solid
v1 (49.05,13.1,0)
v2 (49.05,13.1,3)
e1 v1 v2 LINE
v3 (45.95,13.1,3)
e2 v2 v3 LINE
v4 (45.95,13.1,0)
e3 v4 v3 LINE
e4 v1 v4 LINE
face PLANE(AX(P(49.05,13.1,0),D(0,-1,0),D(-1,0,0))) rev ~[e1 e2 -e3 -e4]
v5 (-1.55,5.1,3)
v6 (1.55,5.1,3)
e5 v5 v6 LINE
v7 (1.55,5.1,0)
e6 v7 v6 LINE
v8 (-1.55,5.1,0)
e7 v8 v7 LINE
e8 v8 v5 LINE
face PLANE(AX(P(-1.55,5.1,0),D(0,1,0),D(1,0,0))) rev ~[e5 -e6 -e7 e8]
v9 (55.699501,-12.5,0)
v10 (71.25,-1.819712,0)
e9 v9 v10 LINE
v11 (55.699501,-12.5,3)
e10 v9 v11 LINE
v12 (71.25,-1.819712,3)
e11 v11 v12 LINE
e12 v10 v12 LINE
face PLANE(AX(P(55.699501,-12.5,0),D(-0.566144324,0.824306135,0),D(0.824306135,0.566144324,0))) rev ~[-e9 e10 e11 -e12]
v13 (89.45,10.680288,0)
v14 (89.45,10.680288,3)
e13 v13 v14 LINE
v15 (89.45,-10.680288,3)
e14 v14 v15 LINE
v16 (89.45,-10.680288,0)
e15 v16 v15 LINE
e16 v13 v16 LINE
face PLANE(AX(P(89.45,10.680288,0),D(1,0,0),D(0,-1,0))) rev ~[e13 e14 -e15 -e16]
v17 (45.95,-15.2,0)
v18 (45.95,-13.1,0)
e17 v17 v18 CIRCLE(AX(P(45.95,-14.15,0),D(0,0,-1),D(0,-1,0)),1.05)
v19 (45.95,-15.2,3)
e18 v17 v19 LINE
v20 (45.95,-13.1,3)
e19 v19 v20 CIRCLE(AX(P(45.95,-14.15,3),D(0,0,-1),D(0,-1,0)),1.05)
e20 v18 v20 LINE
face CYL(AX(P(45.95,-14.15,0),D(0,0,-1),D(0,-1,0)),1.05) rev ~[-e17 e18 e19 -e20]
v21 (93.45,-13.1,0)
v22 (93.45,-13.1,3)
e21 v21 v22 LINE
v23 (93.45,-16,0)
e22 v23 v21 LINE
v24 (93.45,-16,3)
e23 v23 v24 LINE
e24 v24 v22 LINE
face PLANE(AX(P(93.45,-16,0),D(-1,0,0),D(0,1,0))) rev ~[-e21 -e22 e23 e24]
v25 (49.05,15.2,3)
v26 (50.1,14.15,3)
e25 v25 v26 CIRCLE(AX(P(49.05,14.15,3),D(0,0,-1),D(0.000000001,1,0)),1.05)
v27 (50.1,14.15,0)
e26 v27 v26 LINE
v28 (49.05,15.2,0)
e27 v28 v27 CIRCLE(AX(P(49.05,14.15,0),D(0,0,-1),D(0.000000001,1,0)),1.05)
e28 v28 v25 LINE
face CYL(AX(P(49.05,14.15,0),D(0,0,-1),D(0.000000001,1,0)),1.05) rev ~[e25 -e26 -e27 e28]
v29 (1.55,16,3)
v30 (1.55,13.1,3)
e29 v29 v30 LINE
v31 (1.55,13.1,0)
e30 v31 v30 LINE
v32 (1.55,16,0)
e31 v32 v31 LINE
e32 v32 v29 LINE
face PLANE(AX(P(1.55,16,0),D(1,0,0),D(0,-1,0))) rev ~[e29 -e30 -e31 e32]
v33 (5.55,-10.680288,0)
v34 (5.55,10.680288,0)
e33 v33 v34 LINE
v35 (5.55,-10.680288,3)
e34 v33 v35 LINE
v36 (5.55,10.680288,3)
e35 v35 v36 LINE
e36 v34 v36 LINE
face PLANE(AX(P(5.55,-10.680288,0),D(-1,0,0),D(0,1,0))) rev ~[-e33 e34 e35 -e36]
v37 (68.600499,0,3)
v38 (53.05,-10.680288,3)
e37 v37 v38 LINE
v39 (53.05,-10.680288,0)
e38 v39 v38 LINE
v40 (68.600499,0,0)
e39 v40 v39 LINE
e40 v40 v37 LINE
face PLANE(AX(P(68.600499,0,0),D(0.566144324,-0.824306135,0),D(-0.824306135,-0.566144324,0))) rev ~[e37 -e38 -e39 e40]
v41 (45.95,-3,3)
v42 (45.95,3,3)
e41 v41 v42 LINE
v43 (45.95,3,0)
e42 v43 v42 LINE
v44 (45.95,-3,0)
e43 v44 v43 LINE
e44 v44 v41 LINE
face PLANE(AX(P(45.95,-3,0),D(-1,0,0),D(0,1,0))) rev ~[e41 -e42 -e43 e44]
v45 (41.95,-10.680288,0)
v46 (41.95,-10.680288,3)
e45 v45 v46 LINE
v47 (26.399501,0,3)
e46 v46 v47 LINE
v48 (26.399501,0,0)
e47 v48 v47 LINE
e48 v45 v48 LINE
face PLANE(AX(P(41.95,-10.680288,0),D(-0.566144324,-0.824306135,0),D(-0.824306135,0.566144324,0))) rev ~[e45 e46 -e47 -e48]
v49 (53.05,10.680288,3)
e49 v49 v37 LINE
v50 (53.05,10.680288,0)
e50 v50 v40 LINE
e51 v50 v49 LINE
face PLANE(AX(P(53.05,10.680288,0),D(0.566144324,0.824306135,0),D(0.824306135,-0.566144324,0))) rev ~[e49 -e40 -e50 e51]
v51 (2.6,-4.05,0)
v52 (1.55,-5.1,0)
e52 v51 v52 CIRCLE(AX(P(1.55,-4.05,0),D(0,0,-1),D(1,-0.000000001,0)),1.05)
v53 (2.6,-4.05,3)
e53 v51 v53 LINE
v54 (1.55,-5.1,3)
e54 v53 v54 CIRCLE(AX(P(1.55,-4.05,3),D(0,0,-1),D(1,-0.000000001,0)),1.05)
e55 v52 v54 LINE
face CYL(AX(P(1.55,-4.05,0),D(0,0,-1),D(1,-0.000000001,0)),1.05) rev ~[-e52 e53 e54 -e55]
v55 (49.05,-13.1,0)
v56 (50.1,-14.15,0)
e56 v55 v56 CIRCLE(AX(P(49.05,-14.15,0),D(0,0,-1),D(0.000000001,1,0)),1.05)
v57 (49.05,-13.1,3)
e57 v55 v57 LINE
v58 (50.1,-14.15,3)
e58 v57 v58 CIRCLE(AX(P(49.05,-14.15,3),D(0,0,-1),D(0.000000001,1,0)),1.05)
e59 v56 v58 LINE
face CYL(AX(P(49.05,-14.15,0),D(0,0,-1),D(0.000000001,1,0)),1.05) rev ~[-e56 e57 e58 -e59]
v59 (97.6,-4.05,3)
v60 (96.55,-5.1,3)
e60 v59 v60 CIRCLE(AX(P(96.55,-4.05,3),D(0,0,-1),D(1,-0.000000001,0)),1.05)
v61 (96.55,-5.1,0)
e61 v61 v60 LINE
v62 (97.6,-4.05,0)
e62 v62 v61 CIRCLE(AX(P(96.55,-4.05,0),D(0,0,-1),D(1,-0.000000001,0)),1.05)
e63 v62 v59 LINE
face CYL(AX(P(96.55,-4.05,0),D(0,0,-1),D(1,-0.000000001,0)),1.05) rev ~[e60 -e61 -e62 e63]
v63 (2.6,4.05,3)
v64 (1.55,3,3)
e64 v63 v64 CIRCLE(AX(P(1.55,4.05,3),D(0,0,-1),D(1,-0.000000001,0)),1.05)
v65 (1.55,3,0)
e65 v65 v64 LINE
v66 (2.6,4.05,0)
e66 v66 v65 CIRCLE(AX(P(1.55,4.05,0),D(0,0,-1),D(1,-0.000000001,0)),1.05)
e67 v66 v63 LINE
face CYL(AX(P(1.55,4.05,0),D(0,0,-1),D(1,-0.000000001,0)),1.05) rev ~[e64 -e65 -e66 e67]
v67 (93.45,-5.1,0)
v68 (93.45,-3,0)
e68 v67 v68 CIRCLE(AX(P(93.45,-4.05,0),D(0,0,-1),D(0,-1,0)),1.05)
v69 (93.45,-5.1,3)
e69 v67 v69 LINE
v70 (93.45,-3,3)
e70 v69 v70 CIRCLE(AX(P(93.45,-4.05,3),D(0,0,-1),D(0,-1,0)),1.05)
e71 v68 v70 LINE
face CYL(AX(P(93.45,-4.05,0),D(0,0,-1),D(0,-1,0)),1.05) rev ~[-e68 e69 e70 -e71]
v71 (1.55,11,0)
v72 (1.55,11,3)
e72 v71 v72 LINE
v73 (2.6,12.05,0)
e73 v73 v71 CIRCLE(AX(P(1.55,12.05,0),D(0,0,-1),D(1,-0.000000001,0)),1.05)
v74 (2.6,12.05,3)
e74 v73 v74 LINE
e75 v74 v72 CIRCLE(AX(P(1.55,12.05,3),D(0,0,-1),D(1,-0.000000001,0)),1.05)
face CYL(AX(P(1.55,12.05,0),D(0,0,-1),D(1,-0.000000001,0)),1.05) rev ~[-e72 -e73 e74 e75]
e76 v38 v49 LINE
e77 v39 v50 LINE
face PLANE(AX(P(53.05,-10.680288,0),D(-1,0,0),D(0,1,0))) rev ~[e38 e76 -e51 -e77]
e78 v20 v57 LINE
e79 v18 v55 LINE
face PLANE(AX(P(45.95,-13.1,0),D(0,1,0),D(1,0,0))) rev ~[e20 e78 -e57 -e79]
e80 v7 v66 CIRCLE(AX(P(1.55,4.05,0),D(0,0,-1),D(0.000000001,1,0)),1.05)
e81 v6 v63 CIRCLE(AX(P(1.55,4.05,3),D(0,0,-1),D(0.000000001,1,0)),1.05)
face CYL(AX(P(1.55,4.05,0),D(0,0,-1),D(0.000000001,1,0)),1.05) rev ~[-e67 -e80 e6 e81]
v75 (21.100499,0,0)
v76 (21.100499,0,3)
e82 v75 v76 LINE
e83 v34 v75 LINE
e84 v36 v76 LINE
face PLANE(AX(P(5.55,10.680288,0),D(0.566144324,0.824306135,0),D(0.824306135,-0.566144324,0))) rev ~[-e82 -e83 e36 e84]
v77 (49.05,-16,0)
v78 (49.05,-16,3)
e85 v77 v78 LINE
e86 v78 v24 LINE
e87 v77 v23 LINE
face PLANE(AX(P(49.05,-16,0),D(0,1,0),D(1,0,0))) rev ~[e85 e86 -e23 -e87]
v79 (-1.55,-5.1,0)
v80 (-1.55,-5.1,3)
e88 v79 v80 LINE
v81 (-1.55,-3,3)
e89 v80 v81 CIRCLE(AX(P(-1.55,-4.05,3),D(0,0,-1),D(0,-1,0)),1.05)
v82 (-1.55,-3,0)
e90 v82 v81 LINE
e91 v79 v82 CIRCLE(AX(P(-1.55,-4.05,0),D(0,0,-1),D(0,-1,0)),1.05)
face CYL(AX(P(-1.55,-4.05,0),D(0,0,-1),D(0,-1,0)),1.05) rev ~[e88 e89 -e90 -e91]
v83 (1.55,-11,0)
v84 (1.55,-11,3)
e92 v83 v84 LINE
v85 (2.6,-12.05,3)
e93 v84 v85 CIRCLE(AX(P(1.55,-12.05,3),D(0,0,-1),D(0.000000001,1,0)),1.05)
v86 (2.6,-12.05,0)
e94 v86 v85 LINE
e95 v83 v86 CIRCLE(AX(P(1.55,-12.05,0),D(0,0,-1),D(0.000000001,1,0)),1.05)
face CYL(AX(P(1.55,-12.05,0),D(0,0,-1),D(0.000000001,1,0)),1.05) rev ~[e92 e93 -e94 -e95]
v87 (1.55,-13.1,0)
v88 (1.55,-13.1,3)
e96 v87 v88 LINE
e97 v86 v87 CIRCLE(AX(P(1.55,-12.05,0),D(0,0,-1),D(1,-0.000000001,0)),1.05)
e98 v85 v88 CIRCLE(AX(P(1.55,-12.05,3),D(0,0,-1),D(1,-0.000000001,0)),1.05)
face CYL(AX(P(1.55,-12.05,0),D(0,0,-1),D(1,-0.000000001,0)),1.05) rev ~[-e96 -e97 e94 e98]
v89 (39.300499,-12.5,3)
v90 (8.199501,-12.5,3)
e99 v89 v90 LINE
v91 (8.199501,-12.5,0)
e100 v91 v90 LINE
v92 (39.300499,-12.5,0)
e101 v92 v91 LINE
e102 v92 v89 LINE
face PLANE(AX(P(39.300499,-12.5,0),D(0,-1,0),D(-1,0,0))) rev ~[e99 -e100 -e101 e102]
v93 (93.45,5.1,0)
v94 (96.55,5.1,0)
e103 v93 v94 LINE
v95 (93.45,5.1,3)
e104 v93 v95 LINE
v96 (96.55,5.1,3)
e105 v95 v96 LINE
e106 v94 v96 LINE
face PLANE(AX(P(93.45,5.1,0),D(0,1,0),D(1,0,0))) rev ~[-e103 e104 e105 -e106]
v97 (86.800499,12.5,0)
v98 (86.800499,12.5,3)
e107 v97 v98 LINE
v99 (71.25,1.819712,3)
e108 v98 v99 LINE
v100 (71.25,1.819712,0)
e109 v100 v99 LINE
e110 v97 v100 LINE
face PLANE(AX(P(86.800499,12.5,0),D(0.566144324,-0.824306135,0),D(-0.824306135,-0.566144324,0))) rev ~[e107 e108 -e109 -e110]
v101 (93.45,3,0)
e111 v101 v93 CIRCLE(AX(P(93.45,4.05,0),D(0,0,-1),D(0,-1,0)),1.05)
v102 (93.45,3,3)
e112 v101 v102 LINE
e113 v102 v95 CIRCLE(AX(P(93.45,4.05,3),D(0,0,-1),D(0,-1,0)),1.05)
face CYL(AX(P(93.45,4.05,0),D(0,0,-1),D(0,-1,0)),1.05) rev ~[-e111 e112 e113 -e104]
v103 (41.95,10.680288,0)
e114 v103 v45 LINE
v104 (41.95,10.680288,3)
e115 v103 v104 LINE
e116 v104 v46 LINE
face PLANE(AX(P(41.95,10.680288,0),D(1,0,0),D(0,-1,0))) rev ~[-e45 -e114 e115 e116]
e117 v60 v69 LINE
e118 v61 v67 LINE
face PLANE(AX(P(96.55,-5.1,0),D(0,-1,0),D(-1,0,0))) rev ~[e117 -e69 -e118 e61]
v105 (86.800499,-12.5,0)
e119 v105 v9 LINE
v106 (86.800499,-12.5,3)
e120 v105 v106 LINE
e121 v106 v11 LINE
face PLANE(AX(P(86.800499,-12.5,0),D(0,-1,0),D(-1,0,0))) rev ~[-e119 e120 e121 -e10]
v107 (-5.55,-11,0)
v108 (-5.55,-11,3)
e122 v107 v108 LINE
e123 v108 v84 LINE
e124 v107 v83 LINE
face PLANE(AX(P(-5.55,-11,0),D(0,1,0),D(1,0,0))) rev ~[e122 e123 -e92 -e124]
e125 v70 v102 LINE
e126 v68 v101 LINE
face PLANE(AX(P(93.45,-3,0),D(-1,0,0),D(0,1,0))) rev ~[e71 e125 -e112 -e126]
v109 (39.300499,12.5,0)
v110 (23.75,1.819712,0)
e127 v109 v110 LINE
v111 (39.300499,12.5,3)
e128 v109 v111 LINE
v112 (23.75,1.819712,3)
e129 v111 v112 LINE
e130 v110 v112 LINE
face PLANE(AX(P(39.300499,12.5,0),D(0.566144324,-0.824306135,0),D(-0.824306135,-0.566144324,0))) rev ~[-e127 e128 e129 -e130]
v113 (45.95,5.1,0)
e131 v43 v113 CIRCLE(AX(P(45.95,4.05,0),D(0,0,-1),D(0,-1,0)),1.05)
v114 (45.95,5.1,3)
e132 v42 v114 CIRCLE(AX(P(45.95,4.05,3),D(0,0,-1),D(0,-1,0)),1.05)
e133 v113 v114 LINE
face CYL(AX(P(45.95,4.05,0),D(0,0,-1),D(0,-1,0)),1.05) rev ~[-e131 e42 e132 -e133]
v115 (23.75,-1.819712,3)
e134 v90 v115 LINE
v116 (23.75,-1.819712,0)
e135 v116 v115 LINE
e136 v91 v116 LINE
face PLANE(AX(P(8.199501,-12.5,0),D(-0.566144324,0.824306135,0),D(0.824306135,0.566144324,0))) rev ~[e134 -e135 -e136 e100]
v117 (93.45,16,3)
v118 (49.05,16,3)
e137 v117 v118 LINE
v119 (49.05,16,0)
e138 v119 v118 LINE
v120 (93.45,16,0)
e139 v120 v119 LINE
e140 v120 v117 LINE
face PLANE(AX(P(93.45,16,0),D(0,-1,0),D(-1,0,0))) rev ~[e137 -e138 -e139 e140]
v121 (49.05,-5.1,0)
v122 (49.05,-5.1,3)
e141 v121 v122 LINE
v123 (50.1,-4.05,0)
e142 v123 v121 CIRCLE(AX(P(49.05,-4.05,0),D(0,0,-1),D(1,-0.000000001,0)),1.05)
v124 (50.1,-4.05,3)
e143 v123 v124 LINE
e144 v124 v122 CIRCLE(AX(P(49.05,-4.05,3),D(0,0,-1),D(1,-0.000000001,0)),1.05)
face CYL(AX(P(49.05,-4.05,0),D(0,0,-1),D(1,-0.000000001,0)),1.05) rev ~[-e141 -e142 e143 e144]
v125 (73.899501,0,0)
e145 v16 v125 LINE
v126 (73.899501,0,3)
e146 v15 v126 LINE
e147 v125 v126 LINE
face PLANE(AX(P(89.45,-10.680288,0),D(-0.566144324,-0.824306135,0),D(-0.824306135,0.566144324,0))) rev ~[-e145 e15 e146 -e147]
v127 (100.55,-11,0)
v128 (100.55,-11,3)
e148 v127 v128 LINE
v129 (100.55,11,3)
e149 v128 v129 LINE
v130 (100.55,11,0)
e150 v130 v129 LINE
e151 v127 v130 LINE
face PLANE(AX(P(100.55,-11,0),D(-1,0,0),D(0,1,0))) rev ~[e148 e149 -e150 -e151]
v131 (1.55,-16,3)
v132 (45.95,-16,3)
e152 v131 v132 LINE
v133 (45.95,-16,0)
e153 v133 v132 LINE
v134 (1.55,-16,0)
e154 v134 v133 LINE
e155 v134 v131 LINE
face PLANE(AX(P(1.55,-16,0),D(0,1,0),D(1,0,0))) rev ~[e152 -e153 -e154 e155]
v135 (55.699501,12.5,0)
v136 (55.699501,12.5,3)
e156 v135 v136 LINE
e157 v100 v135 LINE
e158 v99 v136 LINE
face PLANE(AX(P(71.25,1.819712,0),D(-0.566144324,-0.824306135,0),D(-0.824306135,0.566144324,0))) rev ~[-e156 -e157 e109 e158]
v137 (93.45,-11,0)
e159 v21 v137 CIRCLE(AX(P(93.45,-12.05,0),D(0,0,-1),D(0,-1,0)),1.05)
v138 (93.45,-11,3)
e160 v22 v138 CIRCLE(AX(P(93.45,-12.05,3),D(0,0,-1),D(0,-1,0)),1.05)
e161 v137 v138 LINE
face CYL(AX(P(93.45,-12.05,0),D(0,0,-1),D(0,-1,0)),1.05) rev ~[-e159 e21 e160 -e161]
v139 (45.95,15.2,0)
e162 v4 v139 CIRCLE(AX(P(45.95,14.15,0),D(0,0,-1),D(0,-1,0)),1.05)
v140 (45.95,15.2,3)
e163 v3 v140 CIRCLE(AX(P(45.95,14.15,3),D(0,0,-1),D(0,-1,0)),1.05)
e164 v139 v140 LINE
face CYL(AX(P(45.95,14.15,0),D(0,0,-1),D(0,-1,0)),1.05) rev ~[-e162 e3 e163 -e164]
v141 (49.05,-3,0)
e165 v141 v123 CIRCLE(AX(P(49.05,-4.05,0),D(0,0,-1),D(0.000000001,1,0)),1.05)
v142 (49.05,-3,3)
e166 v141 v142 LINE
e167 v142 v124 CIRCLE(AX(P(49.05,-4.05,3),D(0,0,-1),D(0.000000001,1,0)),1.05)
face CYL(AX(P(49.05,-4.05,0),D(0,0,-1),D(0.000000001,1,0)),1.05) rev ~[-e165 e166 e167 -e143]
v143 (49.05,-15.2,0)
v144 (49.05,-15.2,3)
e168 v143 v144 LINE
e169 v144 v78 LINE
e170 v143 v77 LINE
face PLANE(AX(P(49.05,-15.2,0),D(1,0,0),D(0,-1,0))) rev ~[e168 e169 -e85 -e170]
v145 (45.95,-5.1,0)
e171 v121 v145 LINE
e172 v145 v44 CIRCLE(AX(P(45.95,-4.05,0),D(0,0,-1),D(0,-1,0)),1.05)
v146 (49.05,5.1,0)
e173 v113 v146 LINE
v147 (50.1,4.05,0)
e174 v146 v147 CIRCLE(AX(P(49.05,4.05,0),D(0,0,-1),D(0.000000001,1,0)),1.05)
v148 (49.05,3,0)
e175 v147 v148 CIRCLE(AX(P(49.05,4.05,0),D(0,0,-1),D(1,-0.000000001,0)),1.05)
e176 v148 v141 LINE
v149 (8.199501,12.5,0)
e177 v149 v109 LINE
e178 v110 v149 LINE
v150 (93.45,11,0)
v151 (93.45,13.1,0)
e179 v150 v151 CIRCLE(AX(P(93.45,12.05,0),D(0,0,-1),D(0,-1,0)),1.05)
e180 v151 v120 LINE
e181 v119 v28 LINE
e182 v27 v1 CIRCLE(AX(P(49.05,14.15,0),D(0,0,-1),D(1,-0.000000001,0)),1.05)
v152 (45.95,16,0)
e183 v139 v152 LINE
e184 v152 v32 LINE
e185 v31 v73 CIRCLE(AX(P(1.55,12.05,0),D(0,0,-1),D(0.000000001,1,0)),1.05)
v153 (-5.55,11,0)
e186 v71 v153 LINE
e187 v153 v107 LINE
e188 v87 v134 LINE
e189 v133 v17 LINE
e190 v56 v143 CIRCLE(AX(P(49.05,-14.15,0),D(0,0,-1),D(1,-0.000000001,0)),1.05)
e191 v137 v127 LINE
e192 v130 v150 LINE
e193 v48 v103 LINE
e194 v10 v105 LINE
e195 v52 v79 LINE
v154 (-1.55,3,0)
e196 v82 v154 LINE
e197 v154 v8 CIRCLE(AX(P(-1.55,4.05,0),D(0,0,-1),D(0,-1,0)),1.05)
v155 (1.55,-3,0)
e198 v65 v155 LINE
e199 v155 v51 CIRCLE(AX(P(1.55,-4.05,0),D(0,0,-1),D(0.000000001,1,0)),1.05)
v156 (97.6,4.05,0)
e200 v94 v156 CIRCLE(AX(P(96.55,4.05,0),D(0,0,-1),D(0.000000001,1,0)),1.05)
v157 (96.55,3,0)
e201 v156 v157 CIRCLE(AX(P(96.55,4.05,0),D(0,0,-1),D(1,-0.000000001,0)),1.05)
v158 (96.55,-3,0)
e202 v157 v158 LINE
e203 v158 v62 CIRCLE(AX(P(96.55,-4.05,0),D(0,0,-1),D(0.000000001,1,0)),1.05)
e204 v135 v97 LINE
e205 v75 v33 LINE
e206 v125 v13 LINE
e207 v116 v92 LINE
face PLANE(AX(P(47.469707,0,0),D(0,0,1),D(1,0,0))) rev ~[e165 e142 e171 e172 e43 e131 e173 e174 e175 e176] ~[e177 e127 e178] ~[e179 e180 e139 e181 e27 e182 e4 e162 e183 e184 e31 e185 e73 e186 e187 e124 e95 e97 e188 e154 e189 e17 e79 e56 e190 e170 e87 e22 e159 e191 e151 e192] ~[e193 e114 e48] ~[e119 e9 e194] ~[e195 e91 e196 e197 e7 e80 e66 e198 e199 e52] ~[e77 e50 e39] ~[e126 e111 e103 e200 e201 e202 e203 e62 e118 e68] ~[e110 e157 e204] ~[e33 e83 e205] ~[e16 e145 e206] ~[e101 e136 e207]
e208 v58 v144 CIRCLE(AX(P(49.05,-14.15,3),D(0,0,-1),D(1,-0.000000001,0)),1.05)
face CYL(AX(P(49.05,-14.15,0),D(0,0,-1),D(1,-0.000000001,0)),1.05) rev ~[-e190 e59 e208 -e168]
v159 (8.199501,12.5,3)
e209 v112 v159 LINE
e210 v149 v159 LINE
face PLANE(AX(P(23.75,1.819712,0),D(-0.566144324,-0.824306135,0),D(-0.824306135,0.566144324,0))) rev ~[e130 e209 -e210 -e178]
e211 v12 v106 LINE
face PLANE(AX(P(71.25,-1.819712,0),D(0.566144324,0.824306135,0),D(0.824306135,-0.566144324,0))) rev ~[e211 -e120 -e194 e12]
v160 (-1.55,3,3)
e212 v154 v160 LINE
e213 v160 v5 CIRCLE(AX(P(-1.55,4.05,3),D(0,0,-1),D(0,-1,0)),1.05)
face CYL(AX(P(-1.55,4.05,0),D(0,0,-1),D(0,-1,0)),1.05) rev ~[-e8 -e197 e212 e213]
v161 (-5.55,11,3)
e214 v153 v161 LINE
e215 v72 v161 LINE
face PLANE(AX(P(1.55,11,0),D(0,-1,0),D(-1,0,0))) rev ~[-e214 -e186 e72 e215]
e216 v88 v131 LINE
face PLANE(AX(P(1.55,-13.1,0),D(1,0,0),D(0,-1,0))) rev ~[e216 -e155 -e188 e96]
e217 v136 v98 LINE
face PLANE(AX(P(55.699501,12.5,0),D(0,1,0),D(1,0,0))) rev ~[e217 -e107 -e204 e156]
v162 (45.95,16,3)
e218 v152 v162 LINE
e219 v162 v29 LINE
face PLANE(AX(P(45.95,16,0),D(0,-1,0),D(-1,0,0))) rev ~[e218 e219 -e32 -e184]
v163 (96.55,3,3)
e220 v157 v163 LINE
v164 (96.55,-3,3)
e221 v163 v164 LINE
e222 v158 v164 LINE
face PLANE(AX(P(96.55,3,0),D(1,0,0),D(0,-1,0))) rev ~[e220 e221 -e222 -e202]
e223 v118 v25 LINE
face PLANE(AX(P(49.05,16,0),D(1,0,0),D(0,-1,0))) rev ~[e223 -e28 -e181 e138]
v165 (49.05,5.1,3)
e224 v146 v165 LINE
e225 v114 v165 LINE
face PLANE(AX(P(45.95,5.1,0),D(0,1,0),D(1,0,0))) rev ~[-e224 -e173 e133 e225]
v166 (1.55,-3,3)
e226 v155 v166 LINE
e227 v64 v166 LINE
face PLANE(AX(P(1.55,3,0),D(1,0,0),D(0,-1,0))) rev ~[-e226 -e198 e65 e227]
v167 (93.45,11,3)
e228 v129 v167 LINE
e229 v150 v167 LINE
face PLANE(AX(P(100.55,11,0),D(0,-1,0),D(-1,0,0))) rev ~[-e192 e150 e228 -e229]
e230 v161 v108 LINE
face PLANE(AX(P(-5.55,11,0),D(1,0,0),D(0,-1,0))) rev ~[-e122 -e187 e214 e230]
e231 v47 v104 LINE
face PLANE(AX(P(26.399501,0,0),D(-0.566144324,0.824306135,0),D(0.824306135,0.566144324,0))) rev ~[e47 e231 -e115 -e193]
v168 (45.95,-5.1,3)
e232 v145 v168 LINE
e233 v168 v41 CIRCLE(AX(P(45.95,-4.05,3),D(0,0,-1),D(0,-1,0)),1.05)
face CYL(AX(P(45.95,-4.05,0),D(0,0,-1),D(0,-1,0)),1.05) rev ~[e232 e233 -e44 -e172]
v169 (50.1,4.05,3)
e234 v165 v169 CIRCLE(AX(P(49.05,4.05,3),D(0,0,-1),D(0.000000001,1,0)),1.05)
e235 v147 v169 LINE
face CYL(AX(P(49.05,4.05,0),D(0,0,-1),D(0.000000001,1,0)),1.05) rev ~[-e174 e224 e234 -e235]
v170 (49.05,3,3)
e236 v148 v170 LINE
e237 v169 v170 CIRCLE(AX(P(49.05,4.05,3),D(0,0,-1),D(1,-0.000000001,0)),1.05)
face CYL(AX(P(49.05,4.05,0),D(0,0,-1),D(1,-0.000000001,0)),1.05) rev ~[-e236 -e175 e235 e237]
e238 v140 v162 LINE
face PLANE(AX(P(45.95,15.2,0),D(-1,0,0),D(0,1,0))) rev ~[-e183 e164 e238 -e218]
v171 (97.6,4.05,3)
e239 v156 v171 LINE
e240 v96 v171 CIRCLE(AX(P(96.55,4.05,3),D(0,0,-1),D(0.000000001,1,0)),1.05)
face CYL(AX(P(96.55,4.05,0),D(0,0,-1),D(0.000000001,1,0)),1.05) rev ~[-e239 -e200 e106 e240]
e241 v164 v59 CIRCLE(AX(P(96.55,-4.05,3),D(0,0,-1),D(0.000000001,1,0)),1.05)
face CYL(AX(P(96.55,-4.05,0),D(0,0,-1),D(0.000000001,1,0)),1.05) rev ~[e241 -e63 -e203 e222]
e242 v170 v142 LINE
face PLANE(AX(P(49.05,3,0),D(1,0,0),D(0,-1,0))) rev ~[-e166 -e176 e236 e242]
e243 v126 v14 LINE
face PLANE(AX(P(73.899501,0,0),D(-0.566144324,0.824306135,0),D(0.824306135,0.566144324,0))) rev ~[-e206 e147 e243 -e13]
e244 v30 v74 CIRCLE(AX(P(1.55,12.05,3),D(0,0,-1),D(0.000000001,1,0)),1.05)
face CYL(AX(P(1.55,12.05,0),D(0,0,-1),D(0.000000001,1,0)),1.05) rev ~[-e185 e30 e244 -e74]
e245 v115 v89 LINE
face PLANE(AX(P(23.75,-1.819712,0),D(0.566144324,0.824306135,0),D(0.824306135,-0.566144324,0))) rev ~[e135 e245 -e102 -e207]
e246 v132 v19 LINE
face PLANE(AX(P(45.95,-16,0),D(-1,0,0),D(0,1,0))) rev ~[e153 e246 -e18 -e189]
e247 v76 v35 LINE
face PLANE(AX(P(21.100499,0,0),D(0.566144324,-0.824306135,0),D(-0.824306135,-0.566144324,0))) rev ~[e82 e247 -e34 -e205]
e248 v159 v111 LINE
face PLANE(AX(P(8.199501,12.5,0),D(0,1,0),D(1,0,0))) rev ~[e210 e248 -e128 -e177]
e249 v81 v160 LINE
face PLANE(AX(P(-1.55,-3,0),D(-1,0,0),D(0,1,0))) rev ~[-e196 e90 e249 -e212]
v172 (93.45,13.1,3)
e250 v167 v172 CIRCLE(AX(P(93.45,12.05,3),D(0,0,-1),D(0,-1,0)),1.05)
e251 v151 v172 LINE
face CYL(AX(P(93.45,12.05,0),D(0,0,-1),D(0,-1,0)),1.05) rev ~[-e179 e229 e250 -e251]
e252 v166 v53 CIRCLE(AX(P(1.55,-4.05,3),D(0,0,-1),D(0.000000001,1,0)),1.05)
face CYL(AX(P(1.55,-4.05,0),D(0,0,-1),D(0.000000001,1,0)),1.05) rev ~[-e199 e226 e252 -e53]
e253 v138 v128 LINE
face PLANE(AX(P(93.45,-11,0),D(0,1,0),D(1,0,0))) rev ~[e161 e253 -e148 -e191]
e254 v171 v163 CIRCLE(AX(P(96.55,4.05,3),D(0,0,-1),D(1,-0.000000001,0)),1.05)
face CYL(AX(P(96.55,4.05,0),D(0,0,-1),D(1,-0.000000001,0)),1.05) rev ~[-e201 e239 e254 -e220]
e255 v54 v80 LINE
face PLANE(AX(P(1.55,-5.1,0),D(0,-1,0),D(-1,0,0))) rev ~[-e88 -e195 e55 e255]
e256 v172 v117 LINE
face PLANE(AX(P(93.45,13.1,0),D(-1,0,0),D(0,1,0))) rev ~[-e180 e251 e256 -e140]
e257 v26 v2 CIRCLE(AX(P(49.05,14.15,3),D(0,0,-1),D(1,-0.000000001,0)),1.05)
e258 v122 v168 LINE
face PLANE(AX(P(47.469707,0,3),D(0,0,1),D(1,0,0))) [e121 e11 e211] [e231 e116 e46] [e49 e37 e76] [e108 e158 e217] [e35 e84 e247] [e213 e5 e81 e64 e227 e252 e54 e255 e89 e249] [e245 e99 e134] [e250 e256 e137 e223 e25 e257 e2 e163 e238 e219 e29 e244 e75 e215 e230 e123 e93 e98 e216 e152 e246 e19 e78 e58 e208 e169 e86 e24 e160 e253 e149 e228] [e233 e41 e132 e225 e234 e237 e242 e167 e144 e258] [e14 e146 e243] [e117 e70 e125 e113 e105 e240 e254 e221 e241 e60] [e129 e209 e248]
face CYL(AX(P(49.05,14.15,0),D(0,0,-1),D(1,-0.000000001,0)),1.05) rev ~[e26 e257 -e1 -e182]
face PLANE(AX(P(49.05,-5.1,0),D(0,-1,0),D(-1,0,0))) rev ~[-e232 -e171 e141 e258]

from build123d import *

# Parameters (mm, degrees)
EXTRUDE_1_DEPTH = 3


with BuildPart() as part:
    # 草图1 → 凸台-拉伸1 (new body)
    with BuildSketch(Plane.XY):
        with BuildLine():
            Line((100.55, -11), (100.55, 11))
            Line((100.55, 11), (93.45, 11))
            ThreePointArc((93.45, 11), (92.4, 12.05), (93.45, 13.1))
            Line((93.45, 13.1), (93.45, 16))
            Line((93.45, 16), (49.05, 16))
            Line((49.05, 16), (49.05, 15.2))
            ThreePointArc((49.05, 15.2), (49.79246212, 14.89246212), (50.1, 14.15))
            ThreePointArc((50.1, 14.15), (49.79246212, 13.40753788), (49.05, 13.1))
            Line((49.05, 13.1), (45.95, 13.1))
            ThreePointArc((45.95, 13.1), (44.9, 14.15), (45.95, 15.2))
            Line((45.95, 15.2), (45.95, 16))
            Line((45.95, 16), (1.55, 16))
            Line((1.55, 16), (1.55, 13.1))
            ThreePointArc((1.55, 13.1), (2.29246212, 12.79246212), (2.6, 12.05))
            ThreePointArc((2.6, 12.05), (2.29246212, 11.30753788), (1.55, 11))
            Line((1.55, 11), (-5.55, 11))
            Line((-5.55, 11), (-5.55, -11))
            Line((-5.55, -11), (1.55, -11))
            ThreePointArc((1.55, -11), (2.29246212, -11.30753788), (2.6, -12.05))
            ThreePointArc((2.6, -12.05), (2.29246212, -12.79246212), (1.55, -13.1))
            Line((1.55, -13.1), (1.55, -16))
            Line((1.55, -16), (45.95, -16))
            Line((45.95, -16), (45.95, -15.2))
            ThreePointArc((45.95, -15.2), (44.9, -14.15), (45.95, -13.1))
            Line((45.95, -13.1), (49.05, -13.1))
            ThreePointArc((49.05, -13.1), (49.79246212, -13.40753788), (50.1, -14.15))
            ThreePointArc((50.1, -14.15), (49.79246212, -14.89246212), (49.05, -15.2))
            Line((49.05, -15.2), (49.05, -16))
            Line((49.05, -16), (93.45, -16))
            Line((93.45, -16), (93.45, -13.1))
            ThreePointArc((93.45, -13.1), (92.4, -12.05), (93.45, -11))
            Line((93.45, -11), (100.55, -11))
        make_face()
        with BuildLine():
            ThreePointArc((2.6, -4.05), (2.29246212, -4.79246212), (1.55, -5.1))
            Line((1.55, -5.1), (-1.55, -5.1))
            ThreePointArc((-1.55, -5.1), (-2.6, -4.05), (-1.55, -3))
            Line((-1.55, -3), (-1.55, 3))
            ThreePointArc((-1.55, 3), (-2.6, 4.05), (-1.55, 5.1))
            Line((-1.55, 5.1), (1.55, 5.1))
            ThreePointArc((1.55, 5.1), (2.29246212, 4.79246212), (2.6, 4.05))
            ThreePointArc((2.6, 4.05), (2.29246212, 3.30753788), (1.55, 3))
            Line((1.55, 3), (1.55, -3))
            ThreePointArc((1.55, -3), (2.29246212, -3.30753788), (2.6, -4.05))
        make_face(mode=Mode.SUBTRACT)
        Polygon((39.300498915, -12.5), (8.199501085, -12.5), (23.75, -1.819712284), align=None, mode=Mode.SUBTRACT)
        Polygon((55.699501085, -12.5), (71.25, -1.819712284), (86.800498915, -12.5), align=None, mode=Mode.SUBTRACT)
        with BuildLine():
            ThreePointArc((97.6, -4.05), (97.29246212, -4.79246212), (96.55, -5.1))
            Line((96.55, -5.1), (93.45, -5.1))
            ThreePointArc((93.45, -5.1), (92.4, -4.05), (93.45, -3))
            Line((93.45, -3), (93.45, 3))
            ThreePointArc((93.45, 3), (92.4, 4.05), (93.45, 5.1))
            Line((93.45, 5.1), (96.55, 5.1))
            ThreePointArc((96.55, 5.1), (97.29246212, 4.79246212), (97.6, 4.05))
            ThreePointArc((97.6, 4.05), (97.29246212, 3.30753788), (96.55, 3))
            Line((96.55, 3), (96.55, -3))
            ThreePointArc((96.55, -3), (97.29246212, -3.30753788), (97.6, -4.05))
        make_face(mode=Mode.SUBTRACT)
        Polygon((21.100498915, 0), (5.55, -10.680287716), (5.55, 10.680287716), align=None, mode=Mode.SUBTRACT)
        Polygon((26.399501085, 0), (41.95, 10.680287716), (41.95, -10.680287716), align=None, mode=Mode.SUBTRACT)
        Polygon((23.75, 1.819712284), (8.199501085, 12.5), (39.300498915, 12.5), align=None, mode=Mode.SUBTRACT)
        with BuildLine():
            ThreePointArc((50.1, -4.05), (49.79246212, -4.79246212), (49.05, -5.1))
            Line((49.05, -5.1), (45.95, -5.1))
            ThreePointArc((45.95, -5.1), (44.9, -4.05), (45.95, -3))
            Line((45.95, -3), (45.95, 3))
            ThreePointArc((45.95, 3), (44.9, 4.05), (45.95, 5.1))
            Line((45.95, 5.1), (49.05, 5.1))
            ThreePointArc((49.05, 5.1), (49.79246212, 4.79246212), (50.1, 4.05))
            ThreePointArc((50.1, 4.05), (49.79246212, 3.30753788), (49.05, 3))
            Line((49.05, 3), (49.05, -3))
            ThreePointArc((49.05, -3), (49.79246212, -3.30753788), (50.1, -4.05))
        make_face(mode=Mode.SUBTRACT)
        Polygon((53.05, 10.680287716), (68.600498915, 0), (53.05, -10.680287716), align=None, mode=Mode.SUBTRACT)
        Polygon((55.699501085, 12.5), (86.800498915, 12.5), (71.25, 1.819712284), align=None, mode=Mode.SUBTRACT)
        Polygon((89.45, 10.680287716), (89.45, -10.680287716), (73.899501085, 0), align=None, mode=Mode.SUBTRACT)
    extrude(amount=EXTRUDE_1_DEPTH)


solid = part.part
